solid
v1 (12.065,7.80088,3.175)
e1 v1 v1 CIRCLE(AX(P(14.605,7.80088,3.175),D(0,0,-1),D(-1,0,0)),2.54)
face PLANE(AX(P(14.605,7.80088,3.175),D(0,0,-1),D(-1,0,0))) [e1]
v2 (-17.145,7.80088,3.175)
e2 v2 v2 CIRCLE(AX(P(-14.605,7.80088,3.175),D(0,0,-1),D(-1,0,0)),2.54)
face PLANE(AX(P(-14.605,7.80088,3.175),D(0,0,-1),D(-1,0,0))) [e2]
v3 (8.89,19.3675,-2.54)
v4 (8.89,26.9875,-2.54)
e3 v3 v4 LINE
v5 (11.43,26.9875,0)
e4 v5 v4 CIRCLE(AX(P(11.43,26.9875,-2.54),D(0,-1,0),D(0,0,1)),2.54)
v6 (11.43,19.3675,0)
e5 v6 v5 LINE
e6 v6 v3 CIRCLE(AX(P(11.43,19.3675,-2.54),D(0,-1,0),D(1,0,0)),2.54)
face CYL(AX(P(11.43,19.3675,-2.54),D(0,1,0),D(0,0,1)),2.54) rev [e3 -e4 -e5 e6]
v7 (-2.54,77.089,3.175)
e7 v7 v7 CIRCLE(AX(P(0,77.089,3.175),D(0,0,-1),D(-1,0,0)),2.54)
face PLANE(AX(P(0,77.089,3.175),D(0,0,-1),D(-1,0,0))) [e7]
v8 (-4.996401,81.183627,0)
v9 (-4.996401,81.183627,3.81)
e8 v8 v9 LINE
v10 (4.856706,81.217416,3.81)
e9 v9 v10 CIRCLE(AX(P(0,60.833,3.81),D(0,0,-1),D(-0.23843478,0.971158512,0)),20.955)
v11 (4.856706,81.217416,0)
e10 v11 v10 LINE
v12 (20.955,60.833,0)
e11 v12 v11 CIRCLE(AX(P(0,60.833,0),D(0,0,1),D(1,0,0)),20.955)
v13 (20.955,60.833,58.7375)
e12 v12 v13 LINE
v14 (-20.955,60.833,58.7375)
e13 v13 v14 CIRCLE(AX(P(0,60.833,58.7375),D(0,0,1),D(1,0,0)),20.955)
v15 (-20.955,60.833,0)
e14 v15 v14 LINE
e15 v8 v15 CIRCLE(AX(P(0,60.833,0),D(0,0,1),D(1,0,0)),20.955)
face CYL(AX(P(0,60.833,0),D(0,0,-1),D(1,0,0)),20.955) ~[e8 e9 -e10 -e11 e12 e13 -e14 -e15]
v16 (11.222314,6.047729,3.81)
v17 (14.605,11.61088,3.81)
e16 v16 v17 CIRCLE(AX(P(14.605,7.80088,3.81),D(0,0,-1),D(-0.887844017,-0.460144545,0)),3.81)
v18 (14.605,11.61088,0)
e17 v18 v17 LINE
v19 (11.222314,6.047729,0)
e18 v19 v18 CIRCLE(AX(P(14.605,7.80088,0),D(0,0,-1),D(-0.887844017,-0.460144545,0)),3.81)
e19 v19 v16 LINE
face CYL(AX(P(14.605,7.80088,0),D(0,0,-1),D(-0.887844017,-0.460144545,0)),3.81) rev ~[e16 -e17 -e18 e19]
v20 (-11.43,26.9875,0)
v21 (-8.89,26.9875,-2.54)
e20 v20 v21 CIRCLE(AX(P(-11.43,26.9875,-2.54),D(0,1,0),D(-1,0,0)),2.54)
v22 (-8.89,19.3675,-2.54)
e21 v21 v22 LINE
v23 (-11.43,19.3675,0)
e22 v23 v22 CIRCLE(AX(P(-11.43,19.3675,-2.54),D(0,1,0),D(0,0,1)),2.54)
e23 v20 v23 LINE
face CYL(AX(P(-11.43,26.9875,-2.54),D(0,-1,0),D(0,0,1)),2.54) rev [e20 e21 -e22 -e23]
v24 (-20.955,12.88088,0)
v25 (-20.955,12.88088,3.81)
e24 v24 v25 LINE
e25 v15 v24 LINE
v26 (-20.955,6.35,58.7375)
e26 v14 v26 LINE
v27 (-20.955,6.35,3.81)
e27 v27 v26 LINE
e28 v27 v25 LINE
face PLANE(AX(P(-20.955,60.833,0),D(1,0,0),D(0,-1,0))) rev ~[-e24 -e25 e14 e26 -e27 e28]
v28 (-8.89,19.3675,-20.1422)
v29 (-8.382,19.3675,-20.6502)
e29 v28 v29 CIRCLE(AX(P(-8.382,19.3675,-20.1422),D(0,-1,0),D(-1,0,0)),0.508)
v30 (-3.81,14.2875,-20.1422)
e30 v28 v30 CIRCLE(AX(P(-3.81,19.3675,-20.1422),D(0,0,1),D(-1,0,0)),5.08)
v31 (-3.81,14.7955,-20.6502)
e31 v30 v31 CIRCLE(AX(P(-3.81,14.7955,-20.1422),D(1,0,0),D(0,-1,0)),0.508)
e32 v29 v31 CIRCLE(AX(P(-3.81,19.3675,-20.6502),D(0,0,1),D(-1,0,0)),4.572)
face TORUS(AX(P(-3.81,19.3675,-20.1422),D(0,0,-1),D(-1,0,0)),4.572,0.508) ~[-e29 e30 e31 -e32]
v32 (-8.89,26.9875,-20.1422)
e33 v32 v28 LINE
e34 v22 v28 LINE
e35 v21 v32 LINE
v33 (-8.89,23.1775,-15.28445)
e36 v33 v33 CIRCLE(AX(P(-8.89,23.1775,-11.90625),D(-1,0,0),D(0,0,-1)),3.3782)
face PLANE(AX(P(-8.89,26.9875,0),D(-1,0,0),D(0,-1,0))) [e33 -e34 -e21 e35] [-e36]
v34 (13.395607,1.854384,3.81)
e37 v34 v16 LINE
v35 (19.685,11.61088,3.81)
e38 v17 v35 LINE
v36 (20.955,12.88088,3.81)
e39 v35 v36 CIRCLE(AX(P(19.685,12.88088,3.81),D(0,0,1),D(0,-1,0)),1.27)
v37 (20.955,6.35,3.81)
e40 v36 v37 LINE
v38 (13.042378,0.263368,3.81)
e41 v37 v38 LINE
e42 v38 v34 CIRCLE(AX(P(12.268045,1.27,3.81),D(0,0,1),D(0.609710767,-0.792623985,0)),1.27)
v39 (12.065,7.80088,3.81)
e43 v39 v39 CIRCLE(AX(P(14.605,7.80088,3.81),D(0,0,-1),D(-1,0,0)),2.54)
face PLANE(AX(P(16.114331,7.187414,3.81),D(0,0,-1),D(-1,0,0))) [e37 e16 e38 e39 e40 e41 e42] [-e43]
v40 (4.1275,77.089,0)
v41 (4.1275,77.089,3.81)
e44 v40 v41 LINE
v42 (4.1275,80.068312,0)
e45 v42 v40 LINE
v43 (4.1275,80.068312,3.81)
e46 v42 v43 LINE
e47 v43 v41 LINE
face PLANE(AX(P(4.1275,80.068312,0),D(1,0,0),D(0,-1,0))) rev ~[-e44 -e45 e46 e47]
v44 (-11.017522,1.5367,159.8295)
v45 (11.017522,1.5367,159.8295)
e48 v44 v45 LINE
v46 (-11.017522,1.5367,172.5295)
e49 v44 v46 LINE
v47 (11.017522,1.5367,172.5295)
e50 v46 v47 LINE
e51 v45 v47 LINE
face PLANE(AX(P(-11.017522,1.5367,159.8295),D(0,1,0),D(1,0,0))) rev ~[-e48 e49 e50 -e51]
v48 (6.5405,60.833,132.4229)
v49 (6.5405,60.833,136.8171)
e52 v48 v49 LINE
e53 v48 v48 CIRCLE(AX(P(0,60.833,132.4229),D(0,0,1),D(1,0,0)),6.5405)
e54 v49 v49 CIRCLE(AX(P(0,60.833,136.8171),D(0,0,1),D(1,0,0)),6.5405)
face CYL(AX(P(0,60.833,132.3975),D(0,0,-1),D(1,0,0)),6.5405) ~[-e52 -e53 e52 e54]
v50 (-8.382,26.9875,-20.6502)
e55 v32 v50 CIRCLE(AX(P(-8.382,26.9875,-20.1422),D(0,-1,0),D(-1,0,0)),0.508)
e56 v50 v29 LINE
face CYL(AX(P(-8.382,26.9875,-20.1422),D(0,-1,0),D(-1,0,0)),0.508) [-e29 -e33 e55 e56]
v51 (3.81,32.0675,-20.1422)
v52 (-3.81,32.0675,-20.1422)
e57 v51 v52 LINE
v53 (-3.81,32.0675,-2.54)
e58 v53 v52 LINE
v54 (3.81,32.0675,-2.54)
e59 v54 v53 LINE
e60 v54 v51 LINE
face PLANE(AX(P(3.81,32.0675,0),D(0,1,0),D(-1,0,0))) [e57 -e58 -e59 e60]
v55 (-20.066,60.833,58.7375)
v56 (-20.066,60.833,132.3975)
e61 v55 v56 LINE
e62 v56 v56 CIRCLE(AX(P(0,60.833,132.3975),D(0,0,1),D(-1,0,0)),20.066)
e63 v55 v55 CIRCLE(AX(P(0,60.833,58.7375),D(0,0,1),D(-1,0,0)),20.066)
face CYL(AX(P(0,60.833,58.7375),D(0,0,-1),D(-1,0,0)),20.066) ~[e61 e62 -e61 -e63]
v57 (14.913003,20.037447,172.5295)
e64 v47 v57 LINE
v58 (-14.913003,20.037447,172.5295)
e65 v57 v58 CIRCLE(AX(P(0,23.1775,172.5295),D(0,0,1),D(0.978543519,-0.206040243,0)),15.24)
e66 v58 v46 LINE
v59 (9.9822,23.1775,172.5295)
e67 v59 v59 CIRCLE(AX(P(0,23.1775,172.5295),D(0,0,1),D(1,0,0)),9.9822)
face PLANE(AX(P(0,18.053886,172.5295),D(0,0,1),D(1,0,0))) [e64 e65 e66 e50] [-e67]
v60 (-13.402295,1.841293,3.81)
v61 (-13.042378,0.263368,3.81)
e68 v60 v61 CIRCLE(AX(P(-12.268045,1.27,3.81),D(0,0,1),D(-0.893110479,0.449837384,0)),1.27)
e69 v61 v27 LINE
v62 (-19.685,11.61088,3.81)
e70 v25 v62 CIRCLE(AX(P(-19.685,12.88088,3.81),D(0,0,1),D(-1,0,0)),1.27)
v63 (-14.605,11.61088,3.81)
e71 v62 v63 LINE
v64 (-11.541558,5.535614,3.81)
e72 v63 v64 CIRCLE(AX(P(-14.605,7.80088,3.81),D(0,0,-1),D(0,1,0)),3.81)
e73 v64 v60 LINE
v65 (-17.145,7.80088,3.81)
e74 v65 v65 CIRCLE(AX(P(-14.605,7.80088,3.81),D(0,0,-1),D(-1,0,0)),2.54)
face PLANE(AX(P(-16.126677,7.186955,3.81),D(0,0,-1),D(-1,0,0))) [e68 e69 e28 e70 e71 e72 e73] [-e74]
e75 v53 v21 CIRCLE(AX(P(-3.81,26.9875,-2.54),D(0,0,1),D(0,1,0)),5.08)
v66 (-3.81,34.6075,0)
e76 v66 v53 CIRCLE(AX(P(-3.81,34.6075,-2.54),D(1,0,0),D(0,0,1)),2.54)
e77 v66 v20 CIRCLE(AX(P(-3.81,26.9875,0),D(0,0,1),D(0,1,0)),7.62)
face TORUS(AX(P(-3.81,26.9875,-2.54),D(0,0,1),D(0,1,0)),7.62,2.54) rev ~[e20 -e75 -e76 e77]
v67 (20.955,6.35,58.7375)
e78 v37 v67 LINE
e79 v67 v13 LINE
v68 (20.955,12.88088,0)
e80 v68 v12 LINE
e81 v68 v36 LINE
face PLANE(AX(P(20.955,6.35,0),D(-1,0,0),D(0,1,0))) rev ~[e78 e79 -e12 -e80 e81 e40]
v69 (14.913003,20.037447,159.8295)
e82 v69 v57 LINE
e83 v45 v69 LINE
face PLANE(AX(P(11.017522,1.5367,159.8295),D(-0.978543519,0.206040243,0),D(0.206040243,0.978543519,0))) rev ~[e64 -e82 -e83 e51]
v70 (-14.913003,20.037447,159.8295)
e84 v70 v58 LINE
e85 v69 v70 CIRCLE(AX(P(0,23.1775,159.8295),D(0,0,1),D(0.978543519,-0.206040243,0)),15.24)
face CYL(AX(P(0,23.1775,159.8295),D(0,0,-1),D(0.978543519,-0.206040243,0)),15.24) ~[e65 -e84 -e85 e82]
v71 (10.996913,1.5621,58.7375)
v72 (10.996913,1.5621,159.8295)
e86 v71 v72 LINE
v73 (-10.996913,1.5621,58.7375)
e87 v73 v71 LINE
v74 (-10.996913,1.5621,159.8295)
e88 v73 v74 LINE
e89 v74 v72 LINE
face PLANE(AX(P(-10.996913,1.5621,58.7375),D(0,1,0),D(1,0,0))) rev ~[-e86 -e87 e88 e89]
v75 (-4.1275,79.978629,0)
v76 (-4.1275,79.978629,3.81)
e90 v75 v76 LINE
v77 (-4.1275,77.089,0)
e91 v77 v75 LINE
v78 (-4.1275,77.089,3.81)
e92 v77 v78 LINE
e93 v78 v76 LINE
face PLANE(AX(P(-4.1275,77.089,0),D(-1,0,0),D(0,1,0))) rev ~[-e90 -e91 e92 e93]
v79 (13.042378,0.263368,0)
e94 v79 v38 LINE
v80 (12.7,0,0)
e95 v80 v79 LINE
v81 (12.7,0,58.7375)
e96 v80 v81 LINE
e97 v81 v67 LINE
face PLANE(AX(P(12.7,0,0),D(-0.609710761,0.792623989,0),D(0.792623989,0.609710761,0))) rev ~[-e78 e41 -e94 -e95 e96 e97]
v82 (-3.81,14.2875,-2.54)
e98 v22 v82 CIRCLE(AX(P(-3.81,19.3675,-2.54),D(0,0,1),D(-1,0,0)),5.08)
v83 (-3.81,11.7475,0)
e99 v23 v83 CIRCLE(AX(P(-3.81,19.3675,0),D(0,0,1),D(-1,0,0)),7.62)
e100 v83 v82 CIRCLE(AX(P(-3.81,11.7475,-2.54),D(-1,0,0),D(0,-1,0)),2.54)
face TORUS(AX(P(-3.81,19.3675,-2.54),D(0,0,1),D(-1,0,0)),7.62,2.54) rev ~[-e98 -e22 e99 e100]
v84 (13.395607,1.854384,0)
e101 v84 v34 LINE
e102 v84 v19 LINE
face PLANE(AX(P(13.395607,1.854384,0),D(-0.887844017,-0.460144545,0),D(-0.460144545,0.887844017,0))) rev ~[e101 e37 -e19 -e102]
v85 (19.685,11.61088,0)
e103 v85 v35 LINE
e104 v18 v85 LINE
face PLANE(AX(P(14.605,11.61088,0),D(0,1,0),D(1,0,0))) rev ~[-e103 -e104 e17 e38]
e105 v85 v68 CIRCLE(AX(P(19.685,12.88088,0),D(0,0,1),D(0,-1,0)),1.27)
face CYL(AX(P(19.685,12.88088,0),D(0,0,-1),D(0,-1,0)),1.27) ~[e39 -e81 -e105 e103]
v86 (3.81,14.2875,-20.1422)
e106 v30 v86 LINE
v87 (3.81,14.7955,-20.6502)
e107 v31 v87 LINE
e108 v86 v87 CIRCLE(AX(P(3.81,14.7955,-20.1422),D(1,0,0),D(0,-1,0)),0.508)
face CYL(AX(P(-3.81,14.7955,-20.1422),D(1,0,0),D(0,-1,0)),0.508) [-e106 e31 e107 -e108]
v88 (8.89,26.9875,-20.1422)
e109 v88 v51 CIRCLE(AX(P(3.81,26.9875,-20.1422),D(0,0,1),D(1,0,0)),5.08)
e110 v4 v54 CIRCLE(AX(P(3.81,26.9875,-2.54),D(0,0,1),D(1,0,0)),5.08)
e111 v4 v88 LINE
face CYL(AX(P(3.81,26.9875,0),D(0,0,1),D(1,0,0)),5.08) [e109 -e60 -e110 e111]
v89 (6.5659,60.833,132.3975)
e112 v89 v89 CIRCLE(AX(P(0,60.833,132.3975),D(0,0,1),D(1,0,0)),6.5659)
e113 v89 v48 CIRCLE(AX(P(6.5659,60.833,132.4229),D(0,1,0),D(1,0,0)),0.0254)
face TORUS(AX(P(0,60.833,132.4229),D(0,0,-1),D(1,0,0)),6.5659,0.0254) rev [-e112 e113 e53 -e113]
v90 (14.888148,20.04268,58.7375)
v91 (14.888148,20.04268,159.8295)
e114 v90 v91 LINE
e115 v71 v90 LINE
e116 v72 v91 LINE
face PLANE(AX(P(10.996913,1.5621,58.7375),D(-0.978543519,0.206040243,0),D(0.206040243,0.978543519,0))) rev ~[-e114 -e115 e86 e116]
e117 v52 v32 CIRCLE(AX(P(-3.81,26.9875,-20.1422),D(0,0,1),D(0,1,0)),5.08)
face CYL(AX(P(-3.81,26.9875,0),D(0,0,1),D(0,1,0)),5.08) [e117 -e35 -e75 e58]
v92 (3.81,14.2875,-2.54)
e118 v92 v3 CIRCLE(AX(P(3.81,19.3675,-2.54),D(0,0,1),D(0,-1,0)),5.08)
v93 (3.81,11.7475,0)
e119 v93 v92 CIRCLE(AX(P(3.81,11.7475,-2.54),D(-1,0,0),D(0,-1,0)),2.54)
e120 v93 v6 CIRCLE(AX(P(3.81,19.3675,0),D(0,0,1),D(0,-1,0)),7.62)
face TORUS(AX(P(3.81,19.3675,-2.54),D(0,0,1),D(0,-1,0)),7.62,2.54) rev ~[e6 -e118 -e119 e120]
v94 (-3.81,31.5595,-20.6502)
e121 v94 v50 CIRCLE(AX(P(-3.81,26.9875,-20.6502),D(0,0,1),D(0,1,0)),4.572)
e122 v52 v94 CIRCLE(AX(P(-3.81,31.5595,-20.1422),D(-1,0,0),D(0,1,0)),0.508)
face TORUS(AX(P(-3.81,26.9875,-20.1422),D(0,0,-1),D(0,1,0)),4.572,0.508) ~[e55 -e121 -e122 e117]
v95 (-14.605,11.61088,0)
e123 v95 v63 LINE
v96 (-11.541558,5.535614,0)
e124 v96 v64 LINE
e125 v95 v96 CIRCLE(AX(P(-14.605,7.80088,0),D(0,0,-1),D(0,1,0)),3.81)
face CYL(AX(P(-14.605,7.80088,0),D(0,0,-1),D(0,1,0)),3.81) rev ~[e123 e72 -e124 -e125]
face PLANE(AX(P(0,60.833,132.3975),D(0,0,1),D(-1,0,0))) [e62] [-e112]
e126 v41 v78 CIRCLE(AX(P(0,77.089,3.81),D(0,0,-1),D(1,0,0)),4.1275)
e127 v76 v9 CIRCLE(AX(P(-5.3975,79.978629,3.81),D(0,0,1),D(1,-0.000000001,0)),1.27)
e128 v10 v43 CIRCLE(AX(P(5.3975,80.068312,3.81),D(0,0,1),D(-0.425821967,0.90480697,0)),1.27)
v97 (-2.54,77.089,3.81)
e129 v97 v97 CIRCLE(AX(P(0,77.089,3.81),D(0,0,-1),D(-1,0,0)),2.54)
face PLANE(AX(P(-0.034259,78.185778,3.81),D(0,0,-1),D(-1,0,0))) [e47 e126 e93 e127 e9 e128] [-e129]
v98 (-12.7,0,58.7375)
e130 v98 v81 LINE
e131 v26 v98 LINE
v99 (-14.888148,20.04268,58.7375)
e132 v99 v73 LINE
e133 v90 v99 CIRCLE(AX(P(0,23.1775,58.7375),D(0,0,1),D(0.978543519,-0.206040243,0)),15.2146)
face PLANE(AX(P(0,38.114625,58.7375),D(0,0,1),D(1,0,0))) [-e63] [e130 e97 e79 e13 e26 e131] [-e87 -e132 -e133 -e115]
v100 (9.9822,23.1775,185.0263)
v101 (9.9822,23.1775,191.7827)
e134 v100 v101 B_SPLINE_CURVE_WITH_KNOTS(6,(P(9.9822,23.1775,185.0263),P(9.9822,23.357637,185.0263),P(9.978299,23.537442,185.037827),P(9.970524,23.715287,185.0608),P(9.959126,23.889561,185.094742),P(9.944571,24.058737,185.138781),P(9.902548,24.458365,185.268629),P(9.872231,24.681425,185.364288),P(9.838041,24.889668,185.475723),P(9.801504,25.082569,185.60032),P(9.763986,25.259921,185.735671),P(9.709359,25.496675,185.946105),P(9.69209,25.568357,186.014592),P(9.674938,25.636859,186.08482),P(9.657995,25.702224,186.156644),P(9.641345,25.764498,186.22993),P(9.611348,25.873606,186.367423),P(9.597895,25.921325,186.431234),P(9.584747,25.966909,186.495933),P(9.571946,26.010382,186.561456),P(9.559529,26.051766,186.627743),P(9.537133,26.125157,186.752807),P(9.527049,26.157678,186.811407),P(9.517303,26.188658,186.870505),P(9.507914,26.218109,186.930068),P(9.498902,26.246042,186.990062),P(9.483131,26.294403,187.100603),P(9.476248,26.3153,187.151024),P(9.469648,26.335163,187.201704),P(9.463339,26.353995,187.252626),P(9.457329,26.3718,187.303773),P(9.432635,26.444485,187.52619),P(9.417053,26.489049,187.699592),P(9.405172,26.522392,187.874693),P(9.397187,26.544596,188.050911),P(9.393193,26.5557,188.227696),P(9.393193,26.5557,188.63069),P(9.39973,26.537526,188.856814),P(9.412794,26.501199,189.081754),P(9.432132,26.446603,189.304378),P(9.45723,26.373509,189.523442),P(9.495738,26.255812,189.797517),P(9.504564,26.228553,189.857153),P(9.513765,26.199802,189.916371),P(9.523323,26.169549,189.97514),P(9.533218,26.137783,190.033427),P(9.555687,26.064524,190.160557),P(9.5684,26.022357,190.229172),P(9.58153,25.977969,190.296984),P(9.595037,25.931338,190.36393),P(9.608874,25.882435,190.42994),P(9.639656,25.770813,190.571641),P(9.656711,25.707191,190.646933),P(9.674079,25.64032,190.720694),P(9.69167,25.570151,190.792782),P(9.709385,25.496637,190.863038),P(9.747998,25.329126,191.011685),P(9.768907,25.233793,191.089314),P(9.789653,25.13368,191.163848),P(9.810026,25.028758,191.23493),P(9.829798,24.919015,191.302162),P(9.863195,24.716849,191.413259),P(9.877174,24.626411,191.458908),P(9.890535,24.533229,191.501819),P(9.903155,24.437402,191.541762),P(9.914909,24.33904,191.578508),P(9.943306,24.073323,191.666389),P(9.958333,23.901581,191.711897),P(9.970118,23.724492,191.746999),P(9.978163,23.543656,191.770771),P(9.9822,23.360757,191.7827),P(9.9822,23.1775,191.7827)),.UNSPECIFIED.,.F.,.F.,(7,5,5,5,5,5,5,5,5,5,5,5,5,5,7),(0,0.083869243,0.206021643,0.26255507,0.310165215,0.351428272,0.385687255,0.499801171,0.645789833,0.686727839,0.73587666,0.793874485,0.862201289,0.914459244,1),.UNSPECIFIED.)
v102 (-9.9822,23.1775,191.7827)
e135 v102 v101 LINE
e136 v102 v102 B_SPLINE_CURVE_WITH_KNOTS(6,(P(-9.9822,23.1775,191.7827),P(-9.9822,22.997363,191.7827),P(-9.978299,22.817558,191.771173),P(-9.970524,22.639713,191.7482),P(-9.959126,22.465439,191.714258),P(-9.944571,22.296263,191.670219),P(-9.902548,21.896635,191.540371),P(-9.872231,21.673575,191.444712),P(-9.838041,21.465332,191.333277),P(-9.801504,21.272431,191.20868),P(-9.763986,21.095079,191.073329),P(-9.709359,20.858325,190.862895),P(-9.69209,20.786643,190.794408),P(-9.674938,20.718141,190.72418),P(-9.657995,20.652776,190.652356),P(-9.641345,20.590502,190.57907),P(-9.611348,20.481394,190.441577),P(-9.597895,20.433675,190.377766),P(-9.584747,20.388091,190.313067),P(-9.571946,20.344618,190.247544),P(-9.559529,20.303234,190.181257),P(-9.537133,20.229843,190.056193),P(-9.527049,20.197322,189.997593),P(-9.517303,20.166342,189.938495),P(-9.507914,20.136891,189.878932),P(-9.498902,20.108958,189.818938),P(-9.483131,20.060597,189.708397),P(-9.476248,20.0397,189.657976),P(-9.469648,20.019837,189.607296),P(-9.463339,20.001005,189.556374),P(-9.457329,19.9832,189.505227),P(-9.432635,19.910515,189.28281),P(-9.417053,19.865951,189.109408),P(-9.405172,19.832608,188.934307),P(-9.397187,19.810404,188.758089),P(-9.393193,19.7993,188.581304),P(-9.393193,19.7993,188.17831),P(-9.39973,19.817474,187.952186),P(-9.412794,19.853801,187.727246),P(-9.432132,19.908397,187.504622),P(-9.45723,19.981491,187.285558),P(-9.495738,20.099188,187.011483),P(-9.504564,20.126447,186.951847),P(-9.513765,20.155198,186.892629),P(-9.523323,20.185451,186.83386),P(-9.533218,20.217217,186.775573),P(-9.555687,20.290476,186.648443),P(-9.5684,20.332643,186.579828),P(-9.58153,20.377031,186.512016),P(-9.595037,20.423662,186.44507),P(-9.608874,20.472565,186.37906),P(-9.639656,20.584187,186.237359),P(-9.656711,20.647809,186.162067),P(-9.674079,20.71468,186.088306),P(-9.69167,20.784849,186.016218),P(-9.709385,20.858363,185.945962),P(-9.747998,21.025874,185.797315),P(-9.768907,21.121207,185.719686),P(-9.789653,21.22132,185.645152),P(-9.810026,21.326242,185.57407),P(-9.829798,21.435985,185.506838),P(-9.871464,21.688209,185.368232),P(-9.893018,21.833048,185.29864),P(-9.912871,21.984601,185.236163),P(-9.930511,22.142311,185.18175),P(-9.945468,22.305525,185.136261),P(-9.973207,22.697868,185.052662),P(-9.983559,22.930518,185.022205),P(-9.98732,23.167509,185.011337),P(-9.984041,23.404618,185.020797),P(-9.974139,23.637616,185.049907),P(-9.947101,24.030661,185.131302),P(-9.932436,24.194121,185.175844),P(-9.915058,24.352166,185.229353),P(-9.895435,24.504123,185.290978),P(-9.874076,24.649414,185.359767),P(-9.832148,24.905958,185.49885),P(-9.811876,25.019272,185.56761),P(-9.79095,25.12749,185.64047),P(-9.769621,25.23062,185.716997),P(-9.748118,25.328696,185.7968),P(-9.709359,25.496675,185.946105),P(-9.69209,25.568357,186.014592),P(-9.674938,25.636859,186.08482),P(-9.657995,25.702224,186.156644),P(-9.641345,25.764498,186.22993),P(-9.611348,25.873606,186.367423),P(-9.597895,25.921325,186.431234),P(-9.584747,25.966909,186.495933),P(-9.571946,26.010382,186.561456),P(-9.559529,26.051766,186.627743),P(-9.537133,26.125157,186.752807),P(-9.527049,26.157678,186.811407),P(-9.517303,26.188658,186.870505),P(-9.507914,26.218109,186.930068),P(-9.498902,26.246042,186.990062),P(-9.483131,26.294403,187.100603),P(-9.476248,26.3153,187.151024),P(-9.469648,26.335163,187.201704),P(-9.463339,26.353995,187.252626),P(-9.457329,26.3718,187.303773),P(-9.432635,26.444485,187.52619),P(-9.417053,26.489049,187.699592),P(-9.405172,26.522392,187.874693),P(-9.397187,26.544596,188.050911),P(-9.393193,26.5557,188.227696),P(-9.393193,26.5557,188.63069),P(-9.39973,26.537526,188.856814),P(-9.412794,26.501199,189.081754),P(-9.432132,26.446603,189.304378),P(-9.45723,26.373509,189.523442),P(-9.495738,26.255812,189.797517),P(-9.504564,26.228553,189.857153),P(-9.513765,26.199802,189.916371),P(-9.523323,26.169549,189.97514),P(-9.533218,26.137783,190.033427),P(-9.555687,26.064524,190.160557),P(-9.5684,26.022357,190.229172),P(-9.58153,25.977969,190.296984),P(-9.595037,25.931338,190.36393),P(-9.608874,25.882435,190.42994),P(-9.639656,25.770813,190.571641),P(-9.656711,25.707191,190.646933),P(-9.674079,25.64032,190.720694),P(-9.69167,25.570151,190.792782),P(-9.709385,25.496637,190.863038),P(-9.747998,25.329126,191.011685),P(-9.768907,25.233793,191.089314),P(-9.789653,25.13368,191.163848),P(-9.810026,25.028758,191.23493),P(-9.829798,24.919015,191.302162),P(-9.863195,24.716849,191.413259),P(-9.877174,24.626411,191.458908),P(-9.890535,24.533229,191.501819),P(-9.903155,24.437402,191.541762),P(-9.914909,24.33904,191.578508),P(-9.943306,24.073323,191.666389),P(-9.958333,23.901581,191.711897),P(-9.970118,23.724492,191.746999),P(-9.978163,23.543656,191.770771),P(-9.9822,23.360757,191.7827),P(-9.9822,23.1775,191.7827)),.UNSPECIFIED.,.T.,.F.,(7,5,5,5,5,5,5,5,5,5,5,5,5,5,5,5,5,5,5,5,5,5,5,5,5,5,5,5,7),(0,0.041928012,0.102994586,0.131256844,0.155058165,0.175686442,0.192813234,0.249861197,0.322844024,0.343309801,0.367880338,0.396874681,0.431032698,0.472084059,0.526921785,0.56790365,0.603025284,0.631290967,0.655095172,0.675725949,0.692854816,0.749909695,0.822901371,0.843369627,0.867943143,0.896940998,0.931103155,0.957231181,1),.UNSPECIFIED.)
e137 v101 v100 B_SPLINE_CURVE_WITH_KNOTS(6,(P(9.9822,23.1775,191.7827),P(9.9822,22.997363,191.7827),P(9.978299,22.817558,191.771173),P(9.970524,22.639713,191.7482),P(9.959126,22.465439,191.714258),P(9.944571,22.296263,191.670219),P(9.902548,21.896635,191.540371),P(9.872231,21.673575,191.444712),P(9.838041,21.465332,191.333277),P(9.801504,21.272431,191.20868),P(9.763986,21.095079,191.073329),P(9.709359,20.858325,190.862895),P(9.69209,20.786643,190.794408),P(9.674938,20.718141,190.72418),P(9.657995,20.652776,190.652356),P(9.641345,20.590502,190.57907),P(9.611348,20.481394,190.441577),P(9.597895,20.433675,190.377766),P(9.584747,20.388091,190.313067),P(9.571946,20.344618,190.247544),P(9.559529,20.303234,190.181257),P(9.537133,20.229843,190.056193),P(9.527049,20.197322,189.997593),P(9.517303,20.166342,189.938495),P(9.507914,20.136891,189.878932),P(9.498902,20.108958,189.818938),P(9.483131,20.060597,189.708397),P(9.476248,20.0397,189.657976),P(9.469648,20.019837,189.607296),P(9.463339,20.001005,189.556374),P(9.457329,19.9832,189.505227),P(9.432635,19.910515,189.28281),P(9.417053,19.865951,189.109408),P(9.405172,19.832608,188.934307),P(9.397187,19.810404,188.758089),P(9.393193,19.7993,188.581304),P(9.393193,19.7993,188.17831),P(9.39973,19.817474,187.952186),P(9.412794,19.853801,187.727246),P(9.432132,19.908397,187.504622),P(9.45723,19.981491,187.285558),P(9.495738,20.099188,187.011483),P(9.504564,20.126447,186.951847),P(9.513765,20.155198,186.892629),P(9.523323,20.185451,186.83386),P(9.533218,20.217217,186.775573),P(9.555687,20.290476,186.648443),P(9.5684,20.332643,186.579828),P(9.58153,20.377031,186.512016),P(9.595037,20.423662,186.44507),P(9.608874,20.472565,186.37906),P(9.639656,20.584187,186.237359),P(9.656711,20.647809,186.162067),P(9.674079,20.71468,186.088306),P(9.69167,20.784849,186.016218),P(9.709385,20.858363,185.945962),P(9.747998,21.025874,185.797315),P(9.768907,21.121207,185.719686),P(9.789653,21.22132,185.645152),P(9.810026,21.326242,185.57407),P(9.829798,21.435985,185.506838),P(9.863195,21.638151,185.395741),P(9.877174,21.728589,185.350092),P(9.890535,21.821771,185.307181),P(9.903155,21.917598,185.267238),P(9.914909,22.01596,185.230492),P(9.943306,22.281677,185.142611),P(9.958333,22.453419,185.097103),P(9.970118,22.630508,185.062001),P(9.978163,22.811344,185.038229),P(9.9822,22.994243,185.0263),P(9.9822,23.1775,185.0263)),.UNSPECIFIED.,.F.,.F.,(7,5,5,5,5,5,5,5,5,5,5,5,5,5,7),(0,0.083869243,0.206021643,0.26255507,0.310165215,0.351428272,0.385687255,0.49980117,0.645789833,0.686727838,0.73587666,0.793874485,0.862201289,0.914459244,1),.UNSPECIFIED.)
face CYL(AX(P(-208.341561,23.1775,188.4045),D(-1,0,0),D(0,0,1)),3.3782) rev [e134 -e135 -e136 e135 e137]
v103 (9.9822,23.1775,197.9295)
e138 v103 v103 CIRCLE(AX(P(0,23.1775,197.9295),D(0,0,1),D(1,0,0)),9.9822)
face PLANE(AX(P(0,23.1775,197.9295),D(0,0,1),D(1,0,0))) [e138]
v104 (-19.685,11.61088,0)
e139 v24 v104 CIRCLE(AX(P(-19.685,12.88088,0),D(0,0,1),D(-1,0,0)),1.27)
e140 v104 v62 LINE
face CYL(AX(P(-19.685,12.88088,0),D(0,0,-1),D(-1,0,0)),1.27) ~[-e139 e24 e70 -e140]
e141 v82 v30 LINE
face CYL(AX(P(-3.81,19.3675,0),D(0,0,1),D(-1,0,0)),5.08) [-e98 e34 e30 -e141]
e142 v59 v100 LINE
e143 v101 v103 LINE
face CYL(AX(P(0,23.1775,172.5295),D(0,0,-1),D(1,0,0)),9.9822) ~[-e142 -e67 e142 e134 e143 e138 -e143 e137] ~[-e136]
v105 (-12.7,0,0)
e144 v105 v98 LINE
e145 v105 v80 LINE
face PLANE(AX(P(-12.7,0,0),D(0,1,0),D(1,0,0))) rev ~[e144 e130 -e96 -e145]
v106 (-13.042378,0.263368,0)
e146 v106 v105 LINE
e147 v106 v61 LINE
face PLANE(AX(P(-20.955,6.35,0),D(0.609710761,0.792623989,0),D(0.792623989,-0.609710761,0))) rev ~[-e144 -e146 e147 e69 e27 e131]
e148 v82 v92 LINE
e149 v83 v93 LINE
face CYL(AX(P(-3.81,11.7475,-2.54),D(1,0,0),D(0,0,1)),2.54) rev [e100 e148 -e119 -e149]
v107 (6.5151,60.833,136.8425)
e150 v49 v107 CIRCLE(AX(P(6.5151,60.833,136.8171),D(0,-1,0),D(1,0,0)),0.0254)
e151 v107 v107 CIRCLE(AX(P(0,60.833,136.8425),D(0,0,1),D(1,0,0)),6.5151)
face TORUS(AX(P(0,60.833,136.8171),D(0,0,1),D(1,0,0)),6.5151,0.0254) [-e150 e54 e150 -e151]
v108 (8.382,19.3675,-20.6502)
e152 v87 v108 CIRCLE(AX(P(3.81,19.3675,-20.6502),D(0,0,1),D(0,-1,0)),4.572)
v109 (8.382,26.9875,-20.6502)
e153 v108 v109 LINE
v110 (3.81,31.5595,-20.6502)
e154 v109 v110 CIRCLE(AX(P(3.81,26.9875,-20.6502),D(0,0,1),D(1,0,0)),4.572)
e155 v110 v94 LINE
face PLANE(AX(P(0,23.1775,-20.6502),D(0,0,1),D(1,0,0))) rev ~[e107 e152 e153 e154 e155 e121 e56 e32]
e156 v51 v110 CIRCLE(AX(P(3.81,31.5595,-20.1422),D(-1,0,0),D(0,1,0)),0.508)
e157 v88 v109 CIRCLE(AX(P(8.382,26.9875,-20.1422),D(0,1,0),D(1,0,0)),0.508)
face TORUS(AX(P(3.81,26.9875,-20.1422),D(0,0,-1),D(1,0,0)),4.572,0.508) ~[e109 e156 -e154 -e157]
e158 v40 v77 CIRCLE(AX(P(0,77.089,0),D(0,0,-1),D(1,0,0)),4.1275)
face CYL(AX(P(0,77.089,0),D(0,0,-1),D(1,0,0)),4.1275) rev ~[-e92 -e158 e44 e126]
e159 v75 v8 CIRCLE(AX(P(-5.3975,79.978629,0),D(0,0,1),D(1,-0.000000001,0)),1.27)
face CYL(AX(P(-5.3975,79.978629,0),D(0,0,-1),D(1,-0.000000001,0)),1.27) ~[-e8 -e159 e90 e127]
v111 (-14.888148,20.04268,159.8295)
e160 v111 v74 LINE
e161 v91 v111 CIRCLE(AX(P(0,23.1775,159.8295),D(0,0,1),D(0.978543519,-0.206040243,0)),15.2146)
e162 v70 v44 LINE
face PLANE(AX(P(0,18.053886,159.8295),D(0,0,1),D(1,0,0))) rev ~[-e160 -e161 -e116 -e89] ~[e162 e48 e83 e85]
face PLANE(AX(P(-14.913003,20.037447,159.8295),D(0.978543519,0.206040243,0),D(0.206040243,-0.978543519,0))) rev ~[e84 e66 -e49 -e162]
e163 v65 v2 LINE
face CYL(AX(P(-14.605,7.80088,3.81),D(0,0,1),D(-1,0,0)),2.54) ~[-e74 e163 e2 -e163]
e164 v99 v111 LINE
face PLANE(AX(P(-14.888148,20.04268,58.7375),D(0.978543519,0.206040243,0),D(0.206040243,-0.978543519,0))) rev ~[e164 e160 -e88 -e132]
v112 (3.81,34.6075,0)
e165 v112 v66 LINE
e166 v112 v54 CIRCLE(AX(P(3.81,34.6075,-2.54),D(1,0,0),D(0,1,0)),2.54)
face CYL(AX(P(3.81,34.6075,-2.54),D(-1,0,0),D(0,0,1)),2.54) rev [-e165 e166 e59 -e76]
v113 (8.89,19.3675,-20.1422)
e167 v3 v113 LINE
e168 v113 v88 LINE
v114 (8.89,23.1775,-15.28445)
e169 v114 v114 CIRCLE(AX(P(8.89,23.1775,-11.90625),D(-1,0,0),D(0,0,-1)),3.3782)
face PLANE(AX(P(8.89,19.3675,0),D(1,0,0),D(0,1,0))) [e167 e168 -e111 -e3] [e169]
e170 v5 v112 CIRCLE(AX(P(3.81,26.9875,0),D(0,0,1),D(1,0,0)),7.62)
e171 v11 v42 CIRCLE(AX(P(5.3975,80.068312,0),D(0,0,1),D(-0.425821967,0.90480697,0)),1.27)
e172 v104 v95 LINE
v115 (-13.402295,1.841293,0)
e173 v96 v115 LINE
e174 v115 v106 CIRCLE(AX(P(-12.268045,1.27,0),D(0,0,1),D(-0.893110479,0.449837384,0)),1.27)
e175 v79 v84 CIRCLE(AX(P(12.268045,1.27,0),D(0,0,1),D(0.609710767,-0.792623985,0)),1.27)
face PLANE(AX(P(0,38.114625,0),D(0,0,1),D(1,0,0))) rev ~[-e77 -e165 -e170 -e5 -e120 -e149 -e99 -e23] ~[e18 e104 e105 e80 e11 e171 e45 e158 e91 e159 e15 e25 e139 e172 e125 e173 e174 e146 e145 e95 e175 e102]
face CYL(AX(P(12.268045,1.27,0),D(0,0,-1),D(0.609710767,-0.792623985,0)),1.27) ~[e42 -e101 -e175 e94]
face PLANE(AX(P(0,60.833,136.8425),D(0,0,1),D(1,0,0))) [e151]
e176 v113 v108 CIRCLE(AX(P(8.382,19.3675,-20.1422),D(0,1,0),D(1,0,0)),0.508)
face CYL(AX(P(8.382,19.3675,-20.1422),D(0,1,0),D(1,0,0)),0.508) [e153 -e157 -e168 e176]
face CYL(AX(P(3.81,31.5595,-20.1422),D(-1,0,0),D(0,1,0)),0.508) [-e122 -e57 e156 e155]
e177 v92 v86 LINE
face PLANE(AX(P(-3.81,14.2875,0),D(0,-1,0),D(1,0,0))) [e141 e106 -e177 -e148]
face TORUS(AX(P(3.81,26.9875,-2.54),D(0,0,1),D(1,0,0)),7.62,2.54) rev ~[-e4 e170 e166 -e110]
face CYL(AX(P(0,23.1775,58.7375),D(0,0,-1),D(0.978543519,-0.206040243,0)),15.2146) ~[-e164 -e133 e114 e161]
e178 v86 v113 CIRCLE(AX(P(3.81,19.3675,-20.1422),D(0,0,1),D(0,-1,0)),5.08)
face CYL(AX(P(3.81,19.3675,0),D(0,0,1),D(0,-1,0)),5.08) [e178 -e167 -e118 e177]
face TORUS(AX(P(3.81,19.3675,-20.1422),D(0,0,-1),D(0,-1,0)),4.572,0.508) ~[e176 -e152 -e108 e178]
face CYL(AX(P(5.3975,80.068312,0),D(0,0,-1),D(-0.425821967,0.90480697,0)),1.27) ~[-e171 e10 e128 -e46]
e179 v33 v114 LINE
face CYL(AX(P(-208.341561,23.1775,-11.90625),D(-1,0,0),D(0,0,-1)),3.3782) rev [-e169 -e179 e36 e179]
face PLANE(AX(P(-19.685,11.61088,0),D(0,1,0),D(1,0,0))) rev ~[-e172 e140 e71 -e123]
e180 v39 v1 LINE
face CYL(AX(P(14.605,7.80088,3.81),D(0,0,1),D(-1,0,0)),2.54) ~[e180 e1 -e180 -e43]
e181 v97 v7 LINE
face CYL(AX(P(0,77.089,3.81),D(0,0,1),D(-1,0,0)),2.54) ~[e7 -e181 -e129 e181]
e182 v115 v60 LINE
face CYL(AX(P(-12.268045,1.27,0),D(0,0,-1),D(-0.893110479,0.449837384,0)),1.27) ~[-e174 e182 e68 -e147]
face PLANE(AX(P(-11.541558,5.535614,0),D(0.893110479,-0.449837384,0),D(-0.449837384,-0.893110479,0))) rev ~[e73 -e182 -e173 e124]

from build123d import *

# Parameters (mm, degrees)
BOSS_EXTRUDE1_DEPTH                      = 58.7375
SKETCH2_R                                = 20.066
BOSS_EXTRUDE2_DEPTH                      = 73.66
EDIT_LENGTH_HERE_HOVER_FOR_COMMENT_DEPTH = 113.792
SKETCH4_R                                = 9.9822
BOSS_EXTRUDE4_DEPTH                      = 25.4
BOSS_EXTRUDE5_DEPTH                      = 20.6502
CUT_EXTRUDE3_DEPTH                       = 217.231560923
CUT_EXTRUDE3_DEPTH_BACK                  = 217.231560923
SKETCH6_R                                = 3.3782
FILLET1_R                                = 2.54
FILLET2_R                                = 0.508
CUT_EXTRUDE5_DEPTH                       = 3.81
SKETCH8_R                                = 6.5405
BOSS_EXTRUDE6_DEPTH                      = 4.445
FILLET3_R                                = 0.0254
BOSS_EXTRUDE7_START                      = -12.7
BOSS_EXTRUDE7_DEPTH                      = 12.7
SKETCH10_R                               = 2.54
BOSS_EXTRUDE8_DEPTH                      = 0.635


with BuildPart() as part:
    # Sketch1 → Boss-Extrude1 (new body)
    with BuildSketch(Plane.XY):
        with BuildLine():
            Line((-12.7, 0), (12.7, 0))
            Line((12.7, 0), (20.955, 6.35))
            Line((20.955, 6.35), (20.955, 60.833))
            ThreePointArc((20.955, 60.833), (0, 81.788), (-20.955, 60.833))
            Line((-20.955, 60.833), (-20.955, 6.35))
            Line((-20.955, 6.35), (-12.7, 0))
        make_face()
    extrude(amount=BOSS_EXTRUDE1_DEPTH)

    # Sketch2 → Boss-Extrude2 (add)
    with BuildSketch(Plane.XY.offset(58.7375)):
        with Locations(Location((0, 60.833, 0), (0, 0, 180))):
            Circle(SKETCH2_R)
    extrude(amount=BOSS_EXTRUDE2_DEPTH)

    # Sketch3 → EDIT_LENGTH_HERE (hover for comment) (add)
    with BuildSketch(Plane.XY.offset(58.7375)):
        with BuildLine():
            Line((-14.88814822, 20.042680112), (-10.996912775, 1.5621))
            Line((-10.996912775, 1.5621), (10.996912775, 1.5621))
            Line((10.996912775, 1.5621), (14.88814822, 20.042680112))
            ThreePointArc((14.88814822, 20.042680112), (0, 38.3921), (-14.88814822, 20.042680112))
        make_face()
    extrude(amount=EDIT_LENGTH_HERE_HOVER_FOR_COMMENT_DEPTH)

    # Sketch4 → Boss-Extrude4 (add)
    with BuildSketch(Plane.XY.offset(172.5295)):
        with Locations((0, 23.1775)):
            Circle(SKETCH4_R)
    extrude(amount=BOSS_EXTRUDE4_DEPTH)

    # Sketch5 → Boss-Extrude5 (add)
    with BuildSketch(Plane(origin=(0, 0, 0), x_dir=(-1, 0, 0), z_dir=(0, 0, -1))):
        with BuildLine():
            Line((-3.81, 32.0675), (3.81, 32.0675))
            ThreePointArc((3.81, 32.0675), (7.402102448, 30.579602448), (8.89, 26.9875))
            Line((8.89, 26.9875), (8.89, 19.3675))
            ThreePointArc((8.89, 19.3675), (7.402102448, 15.775397552), (3.81, 14.2875))
            Line((3.81, 14.2875), (-3.81, 14.2875))
            ThreePointArc((-3.81, 14.2875), (-7.402102448, 15.775397552), (-8.89, 19.3675))
            Line((-8.89, 19.3675), (-8.89, 26.9875))
            ThreePointArc((-8.89, 26.9875), (-7.402102448, 30.579602448), (-3.81, 32.0675))
        make_face()
    extrude(amount=BOSS_EXTRUDE5_DEPTH)

    # Sketch6 → Cut-Extrude3 (cut, two sides: drawn at the far end of the back side and taken through both)
    with BuildSketch(Plane(origin=(8.89, 0, 0), x_dir=(0, 0, -1), z_dir=(1, 0, 0)).offset(-CUT_EXTRUDE3_DEPTH_BACK)):
        with Locations((11.90625, 23.1775)):
            Circle(SKETCH6_R)
        with Locations(Location((-188.4045, 23.1775, 0), (0, 0, 179.999999986))):
            Circle(SKETCH6_R)
    extrude(amount=CUT_EXTRUDE3_DEPTH + CUT_EXTRUDE3_DEPTH_BACK, mode=Mode.SUBTRACT)

    # Fillet1
    fillet1_edges = [part.edges().sort_by_distance(p)[0] for p in [
        (7.402102448, 15.775397552, 0),
        (0, 14.2875, 0),
        (-7.402102448, 15.775397552, 0),
        (-8.89, 23.1775, 0),
        (-7.402102448, 30.579602448, 0),
        (0, 32.0675, 0),
        (7.402102448, 30.579602448, 0),
        (8.89, 23.1775, 0),
    ]]
    fillet(fillet1_edges, radius=FILLET1_R)

    # Fillet2
    fillet2_edges = [part.edges().sort_by_distance(p)[0] for p in [
        (7.402102448, 15.775397552, -20.6502),
        (0, 14.2875, -20.6502),
        (-7.402102448, 15.775397552, -20.6502),
        (-8.89, 23.1775, -20.6502),
        (-7.402102448, 30.579602448, -20.6502),
        (0, 32.0675, -20.6502),
        (7.402102448, 30.579602448, -20.6502),
        (8.89, 23.1775, -20.6502),
    ]]
    fillet(fillet2_edges, radius=FILLET2_R)

    # Sketch7 → Cut-Extrude5 (cut)
    with BuildSketch(Plane(origin=(0, 0, 0), x_dir=(-1, 0, 0), z_dir=(0, 0, -1))):
        with BuildLine():
            Line((-4.1275, 80.068311519), (-4.1275, 77.089))
            ThreePointArc((-4.1275, 77.089), (0, 72.9615), (4.1275, 77.089))
            Line((4.1275, 77.089), (4.1275, 79.978628931))
            ThreePointArc((4.1275, 79.978628931), (4.367379625, 80.721429048), (4.996400809, 81.183626623))
            ThreePointArc((4.996400809, 81.183626623), (0.071861599, 81.787876781), (-4.856706104, 81.217416372))
            ThreePointArc((-4.856706104, 81.217416372), (-4.325187488, 80.748786262), (-4.1275, 80.068311519))
        make_face()
        with BuildLine():
            ThreePointArc((-19.685, 11.610879552), (-20.583025612, 11.98285394), (-20.955, 12.880879552))
            Line((-20.955, 12.880879552), (-20.955, 6.35))
            Line((-20.955, 6.35), (-13.042377801, 0.26336754))
            ThreePointArc((-13.042377801, 0.26336754), (-13.507857108, 0.994743297), (-13.395607029, 1.854383572))
            Line((-13.395607029, 1.854383572), (-11.222314297, 6.047728836))
            ThreePointArc((-11.222314297, 6.047728836), (-11.349573436, 9.780348644), (-14.605, 11.610879552))
            Line((-14.605, 11.610879552), (-19.685, 11.610879552))
        make_face()
        with BuildLine():
            Line((20.955, 6.35), (20.955, 12.880879552))
            ThreePointArc((20.955, 12.880879552), (20.583025612, 11.98285394), (19.685, 11.610879552))
            Line((19.685, 11.610879552), (14.605, 11.610879552))
            ThreePointArc((14.605, 11.610879552), (11.203032914, 9.51631534), (11.541558483, 5.535614431))
            Line((11.541558483, 5.535614431), (13.402295436, 1.841293477))
            ThreePointArc((13.402295436, 1.841293477), (13.506243345, 0.987572709), (13.042377827, 0.263367559))
            Line((13.042377827, 0.263367559), (20.955, 6.35))
        make_face()
    extrude(amount=-CUT_EXTRUDE5_DEPTH, mode=Mode.SUBTRACT)

    # Sketch8 → Boss-Extrude6 (add)
    with BuildSketch(Plane.XY.offset(132.3975)):
        with Locations((0, 60.833)):
            Circle(SKETCH8_R)
    extrude(amount=BOSS_EXTRUDE6_DEPTH)

    # Fillet3
    fillet3_edges = [part.edges().sort_by_distance(p)[0] for p in [
        (-6.5405, 60.833, 132.3975),
        (-6.5405, 60.833, 136.8425),
    ]]
    fillet(fillet3_edges, radius=FILLET3_R)

    # Sketch9 → Boss-Extrude7 (add)
    with BuildSketch(Plane.XY.offset(172.5295).offset(BOSS_EXTRUDE7_START)):
        with BuildLine():
            Line((-11.017521545, 1.5367), (11.017521545, 1.5367))
            Line((11.017521545, 1.5367), (14.913003226, 20.03744669))
            ThreePointArc((14.913003226, 20.03744669), (0, 38.4175), (-14.913003226, 20.03744669))
            Line((-14.913003226, 20.03744669), (-11.017521545, 1.5367))
        make_face()
        with BuildLine():
            Line((10.996912775, 1.5621), (14.88814822, 20.042680112))
            ThreePointArc((14.88814822, 20.042680112), (0, 38.3921), (-14.88814822, 20.042680112))
            Line((-14.88814822, 20.042680112), (-10.996912775, 1.5621))
            Line((-10.996912775, 1.5621), (10.996912775, 1.5621))
        make_face(mode=Mode.SUBTRACT)
    extrude(amount=BOSS_EXTRUDE7_DEPTH)

    # Sketch10 → Boss-Extrude8 (add)
    with BuildSketch(Plane(origin=(0, 0, 3.81), x_dir=(-1, 0, 0), z_dir=(0, 0, -1))):
        with Locations((0, 77.089)):
            Circle(SKETCH10_R)
        with Locations((-14.605, 7.800879552)):
            Circle(SKETCH10_R)
        with Locations((14.605, 7.800879552)):
            Circle(SKETCH10_R)
    extrude(amount=BOSS_EXTRUDE8_DEPTH)


solid = part.part
